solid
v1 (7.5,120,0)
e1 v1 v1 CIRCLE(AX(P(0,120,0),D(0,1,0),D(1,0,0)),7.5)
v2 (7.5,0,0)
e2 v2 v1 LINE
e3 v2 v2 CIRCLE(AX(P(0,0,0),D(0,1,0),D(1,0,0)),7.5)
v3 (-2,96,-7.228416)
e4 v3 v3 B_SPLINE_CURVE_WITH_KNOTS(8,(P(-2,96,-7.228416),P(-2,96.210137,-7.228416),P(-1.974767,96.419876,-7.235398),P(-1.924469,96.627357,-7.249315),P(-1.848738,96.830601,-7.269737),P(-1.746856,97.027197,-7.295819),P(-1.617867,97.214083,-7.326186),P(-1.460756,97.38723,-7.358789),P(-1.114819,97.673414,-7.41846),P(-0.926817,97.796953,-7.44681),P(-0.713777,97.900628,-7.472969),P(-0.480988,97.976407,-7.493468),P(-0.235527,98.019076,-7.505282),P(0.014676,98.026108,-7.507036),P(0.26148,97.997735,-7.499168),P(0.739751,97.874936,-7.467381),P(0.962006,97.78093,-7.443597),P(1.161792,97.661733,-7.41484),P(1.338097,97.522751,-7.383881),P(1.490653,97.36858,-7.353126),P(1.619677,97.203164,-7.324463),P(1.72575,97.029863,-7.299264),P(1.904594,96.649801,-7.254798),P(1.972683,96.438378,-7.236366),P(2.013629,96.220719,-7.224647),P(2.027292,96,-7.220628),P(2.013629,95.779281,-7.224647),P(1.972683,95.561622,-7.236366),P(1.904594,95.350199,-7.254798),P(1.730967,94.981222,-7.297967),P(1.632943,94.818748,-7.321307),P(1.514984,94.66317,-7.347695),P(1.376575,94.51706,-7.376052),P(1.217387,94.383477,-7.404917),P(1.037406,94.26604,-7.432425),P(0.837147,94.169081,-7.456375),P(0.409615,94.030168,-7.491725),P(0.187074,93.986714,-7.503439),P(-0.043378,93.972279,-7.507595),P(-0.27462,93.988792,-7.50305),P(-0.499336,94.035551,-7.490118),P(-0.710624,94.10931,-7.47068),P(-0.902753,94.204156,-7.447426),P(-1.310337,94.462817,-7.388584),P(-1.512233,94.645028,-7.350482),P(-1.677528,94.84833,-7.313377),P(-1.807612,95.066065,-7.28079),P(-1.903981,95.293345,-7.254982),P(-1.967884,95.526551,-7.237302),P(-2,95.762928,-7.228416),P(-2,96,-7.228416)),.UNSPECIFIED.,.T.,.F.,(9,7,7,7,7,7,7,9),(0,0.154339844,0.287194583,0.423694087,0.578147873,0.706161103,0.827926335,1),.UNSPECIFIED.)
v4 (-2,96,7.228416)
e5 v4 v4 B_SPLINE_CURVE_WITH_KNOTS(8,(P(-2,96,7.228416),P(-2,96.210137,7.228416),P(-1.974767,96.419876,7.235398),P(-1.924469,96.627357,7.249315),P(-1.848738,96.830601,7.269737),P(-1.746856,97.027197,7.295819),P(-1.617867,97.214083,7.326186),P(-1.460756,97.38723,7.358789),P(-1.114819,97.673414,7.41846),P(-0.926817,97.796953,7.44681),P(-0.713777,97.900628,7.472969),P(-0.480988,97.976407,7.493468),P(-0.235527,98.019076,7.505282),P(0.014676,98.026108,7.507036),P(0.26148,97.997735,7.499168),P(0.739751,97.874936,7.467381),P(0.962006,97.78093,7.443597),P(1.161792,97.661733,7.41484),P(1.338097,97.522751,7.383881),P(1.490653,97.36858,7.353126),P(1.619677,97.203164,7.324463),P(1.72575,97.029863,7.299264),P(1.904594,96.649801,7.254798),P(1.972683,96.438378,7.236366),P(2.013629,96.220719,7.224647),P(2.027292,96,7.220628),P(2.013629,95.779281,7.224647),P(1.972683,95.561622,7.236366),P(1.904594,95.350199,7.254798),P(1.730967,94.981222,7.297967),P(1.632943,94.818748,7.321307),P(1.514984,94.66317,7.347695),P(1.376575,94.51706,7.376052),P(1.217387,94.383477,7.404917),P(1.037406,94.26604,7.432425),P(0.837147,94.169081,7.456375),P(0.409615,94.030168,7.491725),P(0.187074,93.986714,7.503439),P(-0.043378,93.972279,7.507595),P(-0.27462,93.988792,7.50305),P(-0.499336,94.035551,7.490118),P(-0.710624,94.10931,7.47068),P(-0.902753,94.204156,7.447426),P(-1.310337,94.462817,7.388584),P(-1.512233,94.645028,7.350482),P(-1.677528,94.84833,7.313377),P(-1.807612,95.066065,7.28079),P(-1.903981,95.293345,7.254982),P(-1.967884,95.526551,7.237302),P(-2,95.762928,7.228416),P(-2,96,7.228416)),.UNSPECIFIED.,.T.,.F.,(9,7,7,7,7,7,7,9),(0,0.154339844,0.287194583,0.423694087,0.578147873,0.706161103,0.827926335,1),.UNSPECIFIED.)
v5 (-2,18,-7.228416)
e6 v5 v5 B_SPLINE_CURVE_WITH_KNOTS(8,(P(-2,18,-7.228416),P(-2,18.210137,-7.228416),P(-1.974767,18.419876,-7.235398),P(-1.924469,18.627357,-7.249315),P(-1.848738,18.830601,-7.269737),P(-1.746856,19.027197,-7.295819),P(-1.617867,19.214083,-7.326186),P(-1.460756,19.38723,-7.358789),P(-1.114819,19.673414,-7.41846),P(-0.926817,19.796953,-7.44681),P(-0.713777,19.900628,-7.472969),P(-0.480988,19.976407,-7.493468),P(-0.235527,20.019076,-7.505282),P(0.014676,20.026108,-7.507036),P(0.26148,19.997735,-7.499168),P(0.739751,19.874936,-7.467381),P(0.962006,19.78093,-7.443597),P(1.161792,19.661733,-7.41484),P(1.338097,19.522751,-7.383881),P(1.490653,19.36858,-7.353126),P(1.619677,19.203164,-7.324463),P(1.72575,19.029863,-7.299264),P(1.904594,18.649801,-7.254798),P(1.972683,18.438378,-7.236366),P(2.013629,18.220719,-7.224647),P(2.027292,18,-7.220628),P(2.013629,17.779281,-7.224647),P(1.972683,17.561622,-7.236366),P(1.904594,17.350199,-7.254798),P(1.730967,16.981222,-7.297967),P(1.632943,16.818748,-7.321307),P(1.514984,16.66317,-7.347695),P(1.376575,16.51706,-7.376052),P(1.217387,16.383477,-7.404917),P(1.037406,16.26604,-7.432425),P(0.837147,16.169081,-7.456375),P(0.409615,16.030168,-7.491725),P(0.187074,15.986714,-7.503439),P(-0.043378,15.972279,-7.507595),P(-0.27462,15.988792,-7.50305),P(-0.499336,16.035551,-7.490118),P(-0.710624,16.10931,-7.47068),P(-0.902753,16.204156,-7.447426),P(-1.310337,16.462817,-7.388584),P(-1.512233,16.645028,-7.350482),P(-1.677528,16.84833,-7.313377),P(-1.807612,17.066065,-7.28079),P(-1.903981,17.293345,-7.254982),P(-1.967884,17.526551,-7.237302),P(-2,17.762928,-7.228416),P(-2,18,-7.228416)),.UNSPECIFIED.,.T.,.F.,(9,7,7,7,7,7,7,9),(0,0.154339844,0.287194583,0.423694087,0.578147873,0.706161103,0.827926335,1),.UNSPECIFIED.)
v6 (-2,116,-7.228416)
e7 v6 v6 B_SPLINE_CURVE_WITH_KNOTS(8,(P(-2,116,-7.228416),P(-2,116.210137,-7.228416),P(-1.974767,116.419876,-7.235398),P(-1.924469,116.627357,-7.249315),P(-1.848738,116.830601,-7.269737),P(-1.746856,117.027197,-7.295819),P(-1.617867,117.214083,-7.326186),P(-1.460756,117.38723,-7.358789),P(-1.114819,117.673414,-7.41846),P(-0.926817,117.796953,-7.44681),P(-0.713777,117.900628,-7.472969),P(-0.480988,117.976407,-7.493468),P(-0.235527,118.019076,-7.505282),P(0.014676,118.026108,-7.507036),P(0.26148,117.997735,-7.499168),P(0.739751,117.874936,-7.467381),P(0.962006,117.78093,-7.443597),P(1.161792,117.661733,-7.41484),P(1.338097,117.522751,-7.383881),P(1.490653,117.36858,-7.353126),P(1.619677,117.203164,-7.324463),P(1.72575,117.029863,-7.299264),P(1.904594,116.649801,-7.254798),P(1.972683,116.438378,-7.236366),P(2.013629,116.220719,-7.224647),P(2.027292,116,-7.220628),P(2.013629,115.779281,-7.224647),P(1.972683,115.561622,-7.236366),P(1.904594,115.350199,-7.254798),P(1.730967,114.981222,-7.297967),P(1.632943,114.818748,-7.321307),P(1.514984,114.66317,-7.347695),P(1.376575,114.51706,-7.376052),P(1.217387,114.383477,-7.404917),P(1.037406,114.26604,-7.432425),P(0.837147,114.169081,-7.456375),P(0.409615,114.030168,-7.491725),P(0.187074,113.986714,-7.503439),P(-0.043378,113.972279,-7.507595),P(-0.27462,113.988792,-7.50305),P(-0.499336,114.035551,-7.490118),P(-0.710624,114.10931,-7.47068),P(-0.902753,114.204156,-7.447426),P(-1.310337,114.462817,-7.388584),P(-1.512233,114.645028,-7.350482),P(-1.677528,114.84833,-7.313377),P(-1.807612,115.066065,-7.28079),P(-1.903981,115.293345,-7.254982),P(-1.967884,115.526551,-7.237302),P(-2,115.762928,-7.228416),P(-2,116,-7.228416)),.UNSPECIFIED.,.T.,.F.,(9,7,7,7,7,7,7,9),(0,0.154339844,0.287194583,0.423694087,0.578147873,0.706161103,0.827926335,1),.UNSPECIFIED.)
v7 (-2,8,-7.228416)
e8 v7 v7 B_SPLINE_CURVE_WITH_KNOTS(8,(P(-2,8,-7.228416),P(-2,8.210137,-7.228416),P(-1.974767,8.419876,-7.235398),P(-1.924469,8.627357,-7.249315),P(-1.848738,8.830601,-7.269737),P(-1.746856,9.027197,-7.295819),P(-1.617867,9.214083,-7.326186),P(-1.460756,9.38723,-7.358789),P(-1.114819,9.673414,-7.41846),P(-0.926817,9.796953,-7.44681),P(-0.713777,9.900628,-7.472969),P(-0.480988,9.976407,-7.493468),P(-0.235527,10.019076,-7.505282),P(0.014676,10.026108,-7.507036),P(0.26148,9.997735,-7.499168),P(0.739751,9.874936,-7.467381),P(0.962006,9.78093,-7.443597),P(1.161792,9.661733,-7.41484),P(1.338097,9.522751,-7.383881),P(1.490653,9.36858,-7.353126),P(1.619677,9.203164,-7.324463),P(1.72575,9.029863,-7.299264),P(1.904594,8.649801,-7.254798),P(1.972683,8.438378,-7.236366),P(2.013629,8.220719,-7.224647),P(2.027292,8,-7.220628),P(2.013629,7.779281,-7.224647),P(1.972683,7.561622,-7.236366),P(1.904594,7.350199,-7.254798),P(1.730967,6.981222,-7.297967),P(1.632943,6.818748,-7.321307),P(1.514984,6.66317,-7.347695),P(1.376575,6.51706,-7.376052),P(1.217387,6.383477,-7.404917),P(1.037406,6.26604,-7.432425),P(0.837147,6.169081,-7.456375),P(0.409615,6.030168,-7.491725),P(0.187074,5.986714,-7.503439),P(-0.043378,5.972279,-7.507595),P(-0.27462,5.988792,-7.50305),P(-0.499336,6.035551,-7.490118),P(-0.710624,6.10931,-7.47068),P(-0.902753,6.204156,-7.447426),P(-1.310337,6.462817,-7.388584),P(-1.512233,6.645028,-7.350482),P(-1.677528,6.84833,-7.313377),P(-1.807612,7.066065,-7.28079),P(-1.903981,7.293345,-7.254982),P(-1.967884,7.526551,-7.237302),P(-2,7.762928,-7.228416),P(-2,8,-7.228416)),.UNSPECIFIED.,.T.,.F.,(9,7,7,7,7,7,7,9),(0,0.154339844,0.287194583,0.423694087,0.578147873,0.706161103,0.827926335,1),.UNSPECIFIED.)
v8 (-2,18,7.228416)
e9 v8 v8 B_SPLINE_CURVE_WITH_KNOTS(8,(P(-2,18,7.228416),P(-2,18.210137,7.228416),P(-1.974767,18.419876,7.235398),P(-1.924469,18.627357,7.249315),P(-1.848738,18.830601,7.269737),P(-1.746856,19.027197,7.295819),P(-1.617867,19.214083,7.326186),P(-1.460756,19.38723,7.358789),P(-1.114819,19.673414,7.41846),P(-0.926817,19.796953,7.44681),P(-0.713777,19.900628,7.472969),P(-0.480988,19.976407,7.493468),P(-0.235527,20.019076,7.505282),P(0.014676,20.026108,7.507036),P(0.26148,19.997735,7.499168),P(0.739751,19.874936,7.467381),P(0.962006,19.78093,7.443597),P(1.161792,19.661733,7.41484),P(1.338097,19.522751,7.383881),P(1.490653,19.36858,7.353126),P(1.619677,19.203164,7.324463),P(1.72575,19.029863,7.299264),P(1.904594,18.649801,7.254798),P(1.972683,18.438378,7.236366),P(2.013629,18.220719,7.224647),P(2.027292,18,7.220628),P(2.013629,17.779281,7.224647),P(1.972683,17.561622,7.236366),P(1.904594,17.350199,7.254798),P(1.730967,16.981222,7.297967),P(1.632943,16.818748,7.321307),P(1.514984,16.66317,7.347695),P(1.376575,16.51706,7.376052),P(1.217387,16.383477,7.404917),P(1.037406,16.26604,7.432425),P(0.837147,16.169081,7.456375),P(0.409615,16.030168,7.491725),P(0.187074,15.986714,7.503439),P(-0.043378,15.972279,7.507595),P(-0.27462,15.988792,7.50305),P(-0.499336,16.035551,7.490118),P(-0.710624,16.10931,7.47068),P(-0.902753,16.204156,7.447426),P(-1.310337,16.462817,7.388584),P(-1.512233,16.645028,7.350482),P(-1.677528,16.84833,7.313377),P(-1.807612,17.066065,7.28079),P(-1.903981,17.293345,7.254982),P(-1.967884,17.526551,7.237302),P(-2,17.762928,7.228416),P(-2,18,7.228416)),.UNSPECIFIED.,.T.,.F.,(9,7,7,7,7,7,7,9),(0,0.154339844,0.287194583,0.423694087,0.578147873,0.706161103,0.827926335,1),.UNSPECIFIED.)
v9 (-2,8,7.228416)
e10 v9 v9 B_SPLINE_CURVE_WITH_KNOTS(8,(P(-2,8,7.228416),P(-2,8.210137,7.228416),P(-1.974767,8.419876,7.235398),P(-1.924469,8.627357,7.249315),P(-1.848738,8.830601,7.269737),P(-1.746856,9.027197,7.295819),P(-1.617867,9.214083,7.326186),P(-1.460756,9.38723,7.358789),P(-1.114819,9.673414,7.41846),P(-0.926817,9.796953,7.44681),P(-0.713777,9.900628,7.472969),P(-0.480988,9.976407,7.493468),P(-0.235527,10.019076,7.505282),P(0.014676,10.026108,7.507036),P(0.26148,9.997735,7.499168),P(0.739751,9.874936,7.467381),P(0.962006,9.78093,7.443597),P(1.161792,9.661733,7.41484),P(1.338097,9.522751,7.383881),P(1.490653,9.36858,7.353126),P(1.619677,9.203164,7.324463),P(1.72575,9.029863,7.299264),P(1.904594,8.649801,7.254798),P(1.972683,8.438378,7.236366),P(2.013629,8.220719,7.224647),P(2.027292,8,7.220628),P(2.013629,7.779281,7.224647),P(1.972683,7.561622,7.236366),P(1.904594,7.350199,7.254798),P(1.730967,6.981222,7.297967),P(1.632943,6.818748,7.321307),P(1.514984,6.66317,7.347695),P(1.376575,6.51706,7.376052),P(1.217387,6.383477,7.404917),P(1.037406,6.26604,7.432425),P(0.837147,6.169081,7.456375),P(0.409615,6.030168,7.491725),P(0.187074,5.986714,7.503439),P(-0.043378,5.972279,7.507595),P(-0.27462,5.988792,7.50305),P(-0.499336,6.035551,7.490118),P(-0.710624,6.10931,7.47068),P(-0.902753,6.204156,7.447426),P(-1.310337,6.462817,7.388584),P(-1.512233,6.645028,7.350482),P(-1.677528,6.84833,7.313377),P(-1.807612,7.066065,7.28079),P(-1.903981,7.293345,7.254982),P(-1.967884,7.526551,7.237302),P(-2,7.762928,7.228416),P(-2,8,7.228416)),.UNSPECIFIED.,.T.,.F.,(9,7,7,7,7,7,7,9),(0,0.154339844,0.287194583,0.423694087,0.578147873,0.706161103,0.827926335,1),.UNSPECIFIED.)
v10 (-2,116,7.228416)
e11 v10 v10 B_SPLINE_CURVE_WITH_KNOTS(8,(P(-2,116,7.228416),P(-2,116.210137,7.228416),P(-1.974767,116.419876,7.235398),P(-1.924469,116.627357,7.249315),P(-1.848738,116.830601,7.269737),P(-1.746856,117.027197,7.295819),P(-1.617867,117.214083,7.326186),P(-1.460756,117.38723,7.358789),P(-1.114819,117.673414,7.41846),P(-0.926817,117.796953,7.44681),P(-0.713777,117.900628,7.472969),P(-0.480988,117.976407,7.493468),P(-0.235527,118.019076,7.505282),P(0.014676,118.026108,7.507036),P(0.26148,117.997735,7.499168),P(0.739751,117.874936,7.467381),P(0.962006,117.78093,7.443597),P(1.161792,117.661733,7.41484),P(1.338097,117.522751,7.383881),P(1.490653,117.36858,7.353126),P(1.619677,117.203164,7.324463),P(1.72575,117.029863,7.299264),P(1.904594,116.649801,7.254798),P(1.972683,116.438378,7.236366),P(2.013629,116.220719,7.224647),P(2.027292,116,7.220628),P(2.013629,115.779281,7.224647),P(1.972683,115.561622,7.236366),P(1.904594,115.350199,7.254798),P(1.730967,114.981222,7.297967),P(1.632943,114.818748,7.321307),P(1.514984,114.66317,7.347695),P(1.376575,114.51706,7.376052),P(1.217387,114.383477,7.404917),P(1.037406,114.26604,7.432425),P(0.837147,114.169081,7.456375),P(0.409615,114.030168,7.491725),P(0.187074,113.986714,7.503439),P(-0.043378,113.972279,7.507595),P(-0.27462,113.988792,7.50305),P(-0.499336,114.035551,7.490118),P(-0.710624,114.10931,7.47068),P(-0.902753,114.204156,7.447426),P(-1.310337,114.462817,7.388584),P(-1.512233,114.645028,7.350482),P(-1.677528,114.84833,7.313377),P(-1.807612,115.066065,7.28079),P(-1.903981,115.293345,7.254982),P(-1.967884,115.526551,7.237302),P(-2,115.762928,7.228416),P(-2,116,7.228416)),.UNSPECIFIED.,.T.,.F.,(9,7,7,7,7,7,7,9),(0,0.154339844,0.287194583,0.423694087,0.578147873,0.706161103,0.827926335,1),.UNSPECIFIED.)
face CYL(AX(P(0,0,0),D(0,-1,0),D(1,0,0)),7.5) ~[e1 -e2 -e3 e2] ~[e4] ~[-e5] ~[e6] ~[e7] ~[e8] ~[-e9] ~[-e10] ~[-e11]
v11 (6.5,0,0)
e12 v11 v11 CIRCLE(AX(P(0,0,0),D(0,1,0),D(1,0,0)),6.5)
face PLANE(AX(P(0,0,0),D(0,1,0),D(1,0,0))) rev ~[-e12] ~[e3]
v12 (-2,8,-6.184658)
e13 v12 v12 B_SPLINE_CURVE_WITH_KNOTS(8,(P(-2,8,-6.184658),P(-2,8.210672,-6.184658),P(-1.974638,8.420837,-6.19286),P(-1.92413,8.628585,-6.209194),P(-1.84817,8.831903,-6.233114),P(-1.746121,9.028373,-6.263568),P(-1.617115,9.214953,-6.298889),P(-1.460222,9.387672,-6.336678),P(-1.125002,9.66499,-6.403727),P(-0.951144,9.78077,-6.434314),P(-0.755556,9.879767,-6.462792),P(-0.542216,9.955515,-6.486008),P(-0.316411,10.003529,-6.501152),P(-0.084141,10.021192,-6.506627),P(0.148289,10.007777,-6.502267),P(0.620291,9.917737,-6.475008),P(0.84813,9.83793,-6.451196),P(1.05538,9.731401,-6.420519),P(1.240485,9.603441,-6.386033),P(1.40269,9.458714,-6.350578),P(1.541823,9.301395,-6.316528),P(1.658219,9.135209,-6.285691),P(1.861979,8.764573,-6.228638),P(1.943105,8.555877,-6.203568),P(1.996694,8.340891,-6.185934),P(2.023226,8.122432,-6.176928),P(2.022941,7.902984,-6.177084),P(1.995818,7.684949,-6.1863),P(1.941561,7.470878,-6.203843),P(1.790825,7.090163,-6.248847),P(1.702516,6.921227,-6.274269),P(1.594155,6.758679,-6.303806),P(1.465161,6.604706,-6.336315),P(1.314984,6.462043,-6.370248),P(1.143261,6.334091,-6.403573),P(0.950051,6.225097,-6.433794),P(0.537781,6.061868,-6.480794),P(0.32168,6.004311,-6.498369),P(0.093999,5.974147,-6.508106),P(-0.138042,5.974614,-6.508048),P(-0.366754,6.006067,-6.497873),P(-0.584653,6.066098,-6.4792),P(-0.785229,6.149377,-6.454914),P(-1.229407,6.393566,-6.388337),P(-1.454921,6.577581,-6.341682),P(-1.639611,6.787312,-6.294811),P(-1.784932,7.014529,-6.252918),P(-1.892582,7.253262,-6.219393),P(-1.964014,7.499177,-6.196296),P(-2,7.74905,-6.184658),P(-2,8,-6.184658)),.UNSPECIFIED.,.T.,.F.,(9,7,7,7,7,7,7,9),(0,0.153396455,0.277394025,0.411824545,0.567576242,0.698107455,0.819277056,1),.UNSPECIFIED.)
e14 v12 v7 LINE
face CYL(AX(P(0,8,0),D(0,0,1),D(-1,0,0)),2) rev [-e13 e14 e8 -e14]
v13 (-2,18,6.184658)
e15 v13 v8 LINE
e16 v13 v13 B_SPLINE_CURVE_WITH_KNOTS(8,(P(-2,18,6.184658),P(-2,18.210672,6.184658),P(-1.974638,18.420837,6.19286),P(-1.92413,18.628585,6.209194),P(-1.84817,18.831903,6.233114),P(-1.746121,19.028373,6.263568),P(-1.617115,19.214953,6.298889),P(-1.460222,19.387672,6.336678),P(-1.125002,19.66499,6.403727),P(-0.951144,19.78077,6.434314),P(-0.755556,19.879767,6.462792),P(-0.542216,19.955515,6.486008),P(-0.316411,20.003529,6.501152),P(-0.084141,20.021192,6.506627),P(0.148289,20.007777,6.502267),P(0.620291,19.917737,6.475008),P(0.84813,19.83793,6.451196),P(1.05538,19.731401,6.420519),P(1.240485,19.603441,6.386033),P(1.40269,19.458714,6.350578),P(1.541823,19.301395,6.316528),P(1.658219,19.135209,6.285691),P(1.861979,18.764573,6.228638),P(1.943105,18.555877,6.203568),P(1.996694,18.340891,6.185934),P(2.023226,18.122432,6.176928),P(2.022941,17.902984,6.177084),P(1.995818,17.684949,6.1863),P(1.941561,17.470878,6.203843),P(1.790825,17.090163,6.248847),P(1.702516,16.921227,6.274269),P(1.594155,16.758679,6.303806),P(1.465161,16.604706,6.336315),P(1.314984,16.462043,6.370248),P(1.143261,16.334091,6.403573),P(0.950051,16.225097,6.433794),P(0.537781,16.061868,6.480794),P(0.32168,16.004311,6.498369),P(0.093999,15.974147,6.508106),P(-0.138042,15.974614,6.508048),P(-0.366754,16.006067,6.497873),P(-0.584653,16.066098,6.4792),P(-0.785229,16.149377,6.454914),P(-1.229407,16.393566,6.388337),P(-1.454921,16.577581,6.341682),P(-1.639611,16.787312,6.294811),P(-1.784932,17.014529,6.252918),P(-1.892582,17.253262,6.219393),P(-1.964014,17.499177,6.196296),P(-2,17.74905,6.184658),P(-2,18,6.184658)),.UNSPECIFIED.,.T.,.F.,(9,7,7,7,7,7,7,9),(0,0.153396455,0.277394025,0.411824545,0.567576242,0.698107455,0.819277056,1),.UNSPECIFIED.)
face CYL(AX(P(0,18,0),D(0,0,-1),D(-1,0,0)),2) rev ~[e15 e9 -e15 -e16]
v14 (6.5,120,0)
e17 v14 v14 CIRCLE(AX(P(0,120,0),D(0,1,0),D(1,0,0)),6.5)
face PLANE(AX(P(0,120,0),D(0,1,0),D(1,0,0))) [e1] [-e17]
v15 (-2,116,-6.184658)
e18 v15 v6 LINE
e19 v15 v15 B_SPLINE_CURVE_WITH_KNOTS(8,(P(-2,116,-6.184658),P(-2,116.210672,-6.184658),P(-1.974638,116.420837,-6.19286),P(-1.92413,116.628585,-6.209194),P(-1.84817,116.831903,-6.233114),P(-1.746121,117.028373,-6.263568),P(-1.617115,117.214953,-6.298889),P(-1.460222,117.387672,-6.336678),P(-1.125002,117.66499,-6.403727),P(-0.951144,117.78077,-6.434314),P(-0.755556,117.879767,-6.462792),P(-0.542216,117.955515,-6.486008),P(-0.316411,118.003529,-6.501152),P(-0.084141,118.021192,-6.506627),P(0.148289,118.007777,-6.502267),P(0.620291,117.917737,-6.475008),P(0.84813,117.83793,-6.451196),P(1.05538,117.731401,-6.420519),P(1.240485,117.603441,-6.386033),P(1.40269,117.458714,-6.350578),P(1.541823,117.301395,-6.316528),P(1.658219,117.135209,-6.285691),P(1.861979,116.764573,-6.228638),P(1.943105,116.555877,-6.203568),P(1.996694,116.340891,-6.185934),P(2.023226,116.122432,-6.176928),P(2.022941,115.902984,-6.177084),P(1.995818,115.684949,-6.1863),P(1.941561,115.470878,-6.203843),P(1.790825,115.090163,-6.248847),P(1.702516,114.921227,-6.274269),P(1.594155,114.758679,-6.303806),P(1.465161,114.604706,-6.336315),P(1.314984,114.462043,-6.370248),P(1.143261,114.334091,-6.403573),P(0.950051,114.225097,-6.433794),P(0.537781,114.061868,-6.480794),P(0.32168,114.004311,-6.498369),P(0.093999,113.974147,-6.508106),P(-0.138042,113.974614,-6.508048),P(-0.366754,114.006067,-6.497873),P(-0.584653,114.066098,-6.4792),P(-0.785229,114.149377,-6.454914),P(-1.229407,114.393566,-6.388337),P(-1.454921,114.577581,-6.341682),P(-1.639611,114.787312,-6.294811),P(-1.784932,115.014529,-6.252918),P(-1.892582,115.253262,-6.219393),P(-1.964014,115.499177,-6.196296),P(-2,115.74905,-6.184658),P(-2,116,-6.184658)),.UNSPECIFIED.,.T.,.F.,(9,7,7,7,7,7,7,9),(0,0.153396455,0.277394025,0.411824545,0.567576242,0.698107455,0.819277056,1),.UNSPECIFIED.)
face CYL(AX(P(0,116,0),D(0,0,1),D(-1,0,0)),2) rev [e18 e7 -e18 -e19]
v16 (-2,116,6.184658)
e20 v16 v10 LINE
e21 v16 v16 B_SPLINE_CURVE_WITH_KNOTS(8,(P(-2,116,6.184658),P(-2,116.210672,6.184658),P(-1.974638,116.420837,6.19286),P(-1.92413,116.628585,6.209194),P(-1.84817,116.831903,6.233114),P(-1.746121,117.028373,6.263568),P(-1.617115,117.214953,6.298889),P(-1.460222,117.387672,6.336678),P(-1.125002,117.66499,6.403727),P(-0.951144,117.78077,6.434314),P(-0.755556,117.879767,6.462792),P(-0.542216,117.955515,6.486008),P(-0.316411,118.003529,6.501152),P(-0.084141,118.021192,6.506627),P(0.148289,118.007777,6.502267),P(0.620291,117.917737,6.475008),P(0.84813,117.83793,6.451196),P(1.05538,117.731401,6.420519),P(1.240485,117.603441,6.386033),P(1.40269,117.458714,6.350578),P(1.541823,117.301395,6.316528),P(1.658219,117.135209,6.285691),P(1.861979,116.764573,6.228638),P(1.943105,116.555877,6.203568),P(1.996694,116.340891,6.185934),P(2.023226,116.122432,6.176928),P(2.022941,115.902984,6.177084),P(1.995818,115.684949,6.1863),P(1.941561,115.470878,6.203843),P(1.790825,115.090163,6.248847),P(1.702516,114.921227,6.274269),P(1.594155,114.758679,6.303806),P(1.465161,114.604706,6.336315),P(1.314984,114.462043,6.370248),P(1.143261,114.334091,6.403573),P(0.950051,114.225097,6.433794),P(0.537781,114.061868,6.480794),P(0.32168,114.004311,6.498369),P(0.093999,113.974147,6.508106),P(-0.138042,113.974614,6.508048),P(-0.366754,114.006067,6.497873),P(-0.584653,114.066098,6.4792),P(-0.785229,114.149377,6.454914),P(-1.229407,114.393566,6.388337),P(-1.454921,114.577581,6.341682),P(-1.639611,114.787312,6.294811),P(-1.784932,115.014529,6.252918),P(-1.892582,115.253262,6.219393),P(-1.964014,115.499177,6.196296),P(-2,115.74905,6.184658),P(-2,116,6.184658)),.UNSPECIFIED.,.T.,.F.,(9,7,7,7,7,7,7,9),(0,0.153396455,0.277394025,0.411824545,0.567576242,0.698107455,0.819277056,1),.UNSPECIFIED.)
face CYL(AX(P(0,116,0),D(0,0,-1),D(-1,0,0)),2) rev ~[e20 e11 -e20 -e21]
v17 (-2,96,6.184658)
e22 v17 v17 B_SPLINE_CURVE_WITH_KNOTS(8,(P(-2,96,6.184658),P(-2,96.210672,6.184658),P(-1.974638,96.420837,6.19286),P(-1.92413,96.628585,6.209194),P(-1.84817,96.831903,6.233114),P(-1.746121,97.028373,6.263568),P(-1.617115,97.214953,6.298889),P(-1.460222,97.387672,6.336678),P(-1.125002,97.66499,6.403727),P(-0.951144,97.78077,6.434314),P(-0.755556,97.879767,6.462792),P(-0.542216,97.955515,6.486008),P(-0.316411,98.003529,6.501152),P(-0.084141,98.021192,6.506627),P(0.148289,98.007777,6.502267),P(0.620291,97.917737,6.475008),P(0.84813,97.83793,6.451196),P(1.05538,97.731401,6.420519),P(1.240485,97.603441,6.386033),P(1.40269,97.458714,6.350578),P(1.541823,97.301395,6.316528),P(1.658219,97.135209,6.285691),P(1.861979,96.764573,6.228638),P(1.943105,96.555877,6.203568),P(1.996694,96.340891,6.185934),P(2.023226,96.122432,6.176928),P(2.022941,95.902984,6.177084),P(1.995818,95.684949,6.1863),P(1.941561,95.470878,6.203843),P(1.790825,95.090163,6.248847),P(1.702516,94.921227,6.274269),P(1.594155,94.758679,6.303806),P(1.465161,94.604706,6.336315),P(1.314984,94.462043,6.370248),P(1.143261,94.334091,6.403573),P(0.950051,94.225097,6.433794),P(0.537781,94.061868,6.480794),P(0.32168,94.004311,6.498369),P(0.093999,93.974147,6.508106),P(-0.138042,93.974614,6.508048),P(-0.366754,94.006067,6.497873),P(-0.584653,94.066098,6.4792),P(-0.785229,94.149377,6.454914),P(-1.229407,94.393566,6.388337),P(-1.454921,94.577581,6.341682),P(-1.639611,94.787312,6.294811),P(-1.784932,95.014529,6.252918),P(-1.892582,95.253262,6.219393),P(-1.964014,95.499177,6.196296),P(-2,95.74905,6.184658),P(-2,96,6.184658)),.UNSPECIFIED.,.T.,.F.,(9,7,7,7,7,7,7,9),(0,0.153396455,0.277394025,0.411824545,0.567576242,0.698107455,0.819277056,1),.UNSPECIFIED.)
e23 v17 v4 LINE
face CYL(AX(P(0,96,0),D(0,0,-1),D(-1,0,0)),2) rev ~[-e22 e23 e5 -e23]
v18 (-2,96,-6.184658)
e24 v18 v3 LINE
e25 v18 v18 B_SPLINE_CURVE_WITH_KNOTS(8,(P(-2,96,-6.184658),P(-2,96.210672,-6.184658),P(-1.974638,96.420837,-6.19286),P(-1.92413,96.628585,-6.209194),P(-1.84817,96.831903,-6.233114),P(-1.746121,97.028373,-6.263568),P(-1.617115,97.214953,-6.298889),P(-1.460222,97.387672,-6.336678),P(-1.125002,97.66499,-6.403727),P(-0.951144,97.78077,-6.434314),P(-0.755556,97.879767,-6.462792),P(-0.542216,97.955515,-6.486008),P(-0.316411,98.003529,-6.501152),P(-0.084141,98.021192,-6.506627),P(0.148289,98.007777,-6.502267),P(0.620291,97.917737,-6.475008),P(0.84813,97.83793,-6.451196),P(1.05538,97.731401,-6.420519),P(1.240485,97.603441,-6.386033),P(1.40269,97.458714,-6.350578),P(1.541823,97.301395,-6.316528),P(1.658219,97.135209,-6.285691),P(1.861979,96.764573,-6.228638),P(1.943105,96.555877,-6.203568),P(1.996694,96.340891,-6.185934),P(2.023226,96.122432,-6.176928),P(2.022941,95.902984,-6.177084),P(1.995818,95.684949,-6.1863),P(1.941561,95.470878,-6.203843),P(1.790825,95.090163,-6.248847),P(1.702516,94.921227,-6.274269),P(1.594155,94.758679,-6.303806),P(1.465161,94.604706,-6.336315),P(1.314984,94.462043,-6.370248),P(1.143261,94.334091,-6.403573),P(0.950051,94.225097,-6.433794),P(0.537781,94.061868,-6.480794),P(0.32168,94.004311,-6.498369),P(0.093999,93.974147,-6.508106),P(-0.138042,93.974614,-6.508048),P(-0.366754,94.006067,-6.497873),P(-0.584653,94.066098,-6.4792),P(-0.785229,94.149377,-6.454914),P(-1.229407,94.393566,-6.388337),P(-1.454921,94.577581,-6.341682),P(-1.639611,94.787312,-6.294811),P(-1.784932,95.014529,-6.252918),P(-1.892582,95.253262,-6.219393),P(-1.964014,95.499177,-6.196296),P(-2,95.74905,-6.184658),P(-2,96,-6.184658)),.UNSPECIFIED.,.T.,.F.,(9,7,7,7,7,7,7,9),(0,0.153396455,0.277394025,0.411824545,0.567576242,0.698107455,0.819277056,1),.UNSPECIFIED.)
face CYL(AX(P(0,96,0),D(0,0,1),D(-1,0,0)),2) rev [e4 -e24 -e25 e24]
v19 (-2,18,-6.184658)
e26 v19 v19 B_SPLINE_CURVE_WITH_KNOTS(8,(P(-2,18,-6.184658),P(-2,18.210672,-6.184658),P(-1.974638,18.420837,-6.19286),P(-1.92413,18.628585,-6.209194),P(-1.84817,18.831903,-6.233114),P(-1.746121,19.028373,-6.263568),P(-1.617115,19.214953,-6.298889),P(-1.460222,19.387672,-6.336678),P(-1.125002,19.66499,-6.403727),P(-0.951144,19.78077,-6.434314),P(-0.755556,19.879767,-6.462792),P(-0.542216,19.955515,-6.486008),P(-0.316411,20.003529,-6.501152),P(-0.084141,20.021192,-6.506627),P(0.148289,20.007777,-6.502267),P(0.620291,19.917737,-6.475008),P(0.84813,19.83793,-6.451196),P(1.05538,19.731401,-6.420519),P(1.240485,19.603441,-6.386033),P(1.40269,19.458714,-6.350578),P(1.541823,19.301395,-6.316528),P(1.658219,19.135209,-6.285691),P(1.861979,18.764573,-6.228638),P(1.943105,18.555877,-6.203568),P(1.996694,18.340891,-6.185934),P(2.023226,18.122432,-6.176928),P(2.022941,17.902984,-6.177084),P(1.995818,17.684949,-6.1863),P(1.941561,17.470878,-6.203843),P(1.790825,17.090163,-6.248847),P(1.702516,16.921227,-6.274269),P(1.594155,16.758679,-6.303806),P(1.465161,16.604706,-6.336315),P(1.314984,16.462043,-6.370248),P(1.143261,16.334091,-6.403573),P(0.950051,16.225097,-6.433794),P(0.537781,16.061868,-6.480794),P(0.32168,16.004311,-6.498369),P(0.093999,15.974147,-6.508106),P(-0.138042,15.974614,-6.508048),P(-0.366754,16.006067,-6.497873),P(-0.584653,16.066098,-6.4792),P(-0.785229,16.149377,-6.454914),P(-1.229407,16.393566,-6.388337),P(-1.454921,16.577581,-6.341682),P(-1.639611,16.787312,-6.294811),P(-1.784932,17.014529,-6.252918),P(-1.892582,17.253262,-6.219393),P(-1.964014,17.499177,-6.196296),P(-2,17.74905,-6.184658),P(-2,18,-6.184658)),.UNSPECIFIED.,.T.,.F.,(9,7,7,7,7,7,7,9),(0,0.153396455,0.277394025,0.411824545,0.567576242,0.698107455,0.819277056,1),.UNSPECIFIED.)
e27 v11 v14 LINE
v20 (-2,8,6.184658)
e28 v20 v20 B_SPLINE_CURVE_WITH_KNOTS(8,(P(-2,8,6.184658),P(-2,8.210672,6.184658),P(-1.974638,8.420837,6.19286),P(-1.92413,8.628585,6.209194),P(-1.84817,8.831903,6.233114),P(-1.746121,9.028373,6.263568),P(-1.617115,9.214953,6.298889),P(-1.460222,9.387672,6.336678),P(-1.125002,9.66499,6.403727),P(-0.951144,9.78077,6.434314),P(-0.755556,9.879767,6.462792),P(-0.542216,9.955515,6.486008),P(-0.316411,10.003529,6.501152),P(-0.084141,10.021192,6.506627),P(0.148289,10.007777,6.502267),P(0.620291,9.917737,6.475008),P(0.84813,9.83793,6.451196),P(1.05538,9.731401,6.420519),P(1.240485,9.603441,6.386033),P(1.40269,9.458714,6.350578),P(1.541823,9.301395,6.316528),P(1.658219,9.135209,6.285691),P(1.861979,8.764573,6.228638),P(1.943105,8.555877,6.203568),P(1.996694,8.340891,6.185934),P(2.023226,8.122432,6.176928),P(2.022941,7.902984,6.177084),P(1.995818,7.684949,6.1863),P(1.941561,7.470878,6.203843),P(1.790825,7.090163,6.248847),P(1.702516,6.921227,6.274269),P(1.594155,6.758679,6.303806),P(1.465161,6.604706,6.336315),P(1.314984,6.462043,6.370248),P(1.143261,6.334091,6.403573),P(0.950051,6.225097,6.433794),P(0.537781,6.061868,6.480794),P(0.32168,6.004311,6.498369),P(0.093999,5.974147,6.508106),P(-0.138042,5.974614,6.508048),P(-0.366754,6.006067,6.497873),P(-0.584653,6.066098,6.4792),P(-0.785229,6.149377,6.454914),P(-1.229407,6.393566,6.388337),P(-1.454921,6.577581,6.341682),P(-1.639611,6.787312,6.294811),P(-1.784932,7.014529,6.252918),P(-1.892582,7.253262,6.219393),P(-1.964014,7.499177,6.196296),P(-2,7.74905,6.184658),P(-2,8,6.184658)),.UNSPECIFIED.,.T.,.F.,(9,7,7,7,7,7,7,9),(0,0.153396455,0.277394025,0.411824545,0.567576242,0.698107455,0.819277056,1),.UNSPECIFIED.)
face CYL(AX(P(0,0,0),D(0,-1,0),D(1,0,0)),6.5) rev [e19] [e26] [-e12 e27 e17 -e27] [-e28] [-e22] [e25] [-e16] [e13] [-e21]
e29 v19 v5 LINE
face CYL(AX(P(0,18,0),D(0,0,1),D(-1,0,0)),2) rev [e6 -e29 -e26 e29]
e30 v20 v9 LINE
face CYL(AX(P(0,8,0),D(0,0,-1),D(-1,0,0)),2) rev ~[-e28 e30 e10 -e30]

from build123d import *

# Parameters (mm, degrees)
SKETCH1_R               = 7.5
SKETCH1_R_2             = 6.5
BOSS_EXTRUDE1_DEPTH     = 120
SKETCH3_R               = 2
CUT_EXTRUDE1_DEPTH      = 8.5
CUT_EXTRUDE1_DEPTH_BACK = 8.5


with BuildPart() as part:
    # Sketch1 → Boss-Extrude1 (new body)
    with BuildSketch(Plane(origin=(0, 0, 0), x_dir=(1, 0, 0), z_dir=(0, 1, 0))):
        Circle(SKETCH1_R)
        Circle(SKETCH1_R_2, mode=Mode.SUBTRACT)
    extrude(amount=BOSS_EXTRUDE1_DEPTH)

    # Sketch3 → Cut-Extrude1 (cut, two sides)
    with BuildSketch(Plane(origin=(0, 0, 0), x_dir=(-1, 0, 0), z_dir=(0, 0, -1))) as cut_extrude1_sk:
        with Locations((0, 116)):
            Circle(SKETCH3_R)
        with Locations((0, 96)):
            Circle(SKETCH3_R)
        with Locations((0, 8)):
            Circle(SKETCH3_R)
        with Locations((0, 18)):
            Circle(SKETCH3_R)
    extrude(amount=CUT_EXTRUDE1_DEPTH, mode=Mode.SUBTRACT)
    extrude(cut_extrude1_sk.sketch, amount=-CUT_EXTRUDE1_DEPTH_BACK, mode=Mode.SUBTRACT)


solid = part.part
